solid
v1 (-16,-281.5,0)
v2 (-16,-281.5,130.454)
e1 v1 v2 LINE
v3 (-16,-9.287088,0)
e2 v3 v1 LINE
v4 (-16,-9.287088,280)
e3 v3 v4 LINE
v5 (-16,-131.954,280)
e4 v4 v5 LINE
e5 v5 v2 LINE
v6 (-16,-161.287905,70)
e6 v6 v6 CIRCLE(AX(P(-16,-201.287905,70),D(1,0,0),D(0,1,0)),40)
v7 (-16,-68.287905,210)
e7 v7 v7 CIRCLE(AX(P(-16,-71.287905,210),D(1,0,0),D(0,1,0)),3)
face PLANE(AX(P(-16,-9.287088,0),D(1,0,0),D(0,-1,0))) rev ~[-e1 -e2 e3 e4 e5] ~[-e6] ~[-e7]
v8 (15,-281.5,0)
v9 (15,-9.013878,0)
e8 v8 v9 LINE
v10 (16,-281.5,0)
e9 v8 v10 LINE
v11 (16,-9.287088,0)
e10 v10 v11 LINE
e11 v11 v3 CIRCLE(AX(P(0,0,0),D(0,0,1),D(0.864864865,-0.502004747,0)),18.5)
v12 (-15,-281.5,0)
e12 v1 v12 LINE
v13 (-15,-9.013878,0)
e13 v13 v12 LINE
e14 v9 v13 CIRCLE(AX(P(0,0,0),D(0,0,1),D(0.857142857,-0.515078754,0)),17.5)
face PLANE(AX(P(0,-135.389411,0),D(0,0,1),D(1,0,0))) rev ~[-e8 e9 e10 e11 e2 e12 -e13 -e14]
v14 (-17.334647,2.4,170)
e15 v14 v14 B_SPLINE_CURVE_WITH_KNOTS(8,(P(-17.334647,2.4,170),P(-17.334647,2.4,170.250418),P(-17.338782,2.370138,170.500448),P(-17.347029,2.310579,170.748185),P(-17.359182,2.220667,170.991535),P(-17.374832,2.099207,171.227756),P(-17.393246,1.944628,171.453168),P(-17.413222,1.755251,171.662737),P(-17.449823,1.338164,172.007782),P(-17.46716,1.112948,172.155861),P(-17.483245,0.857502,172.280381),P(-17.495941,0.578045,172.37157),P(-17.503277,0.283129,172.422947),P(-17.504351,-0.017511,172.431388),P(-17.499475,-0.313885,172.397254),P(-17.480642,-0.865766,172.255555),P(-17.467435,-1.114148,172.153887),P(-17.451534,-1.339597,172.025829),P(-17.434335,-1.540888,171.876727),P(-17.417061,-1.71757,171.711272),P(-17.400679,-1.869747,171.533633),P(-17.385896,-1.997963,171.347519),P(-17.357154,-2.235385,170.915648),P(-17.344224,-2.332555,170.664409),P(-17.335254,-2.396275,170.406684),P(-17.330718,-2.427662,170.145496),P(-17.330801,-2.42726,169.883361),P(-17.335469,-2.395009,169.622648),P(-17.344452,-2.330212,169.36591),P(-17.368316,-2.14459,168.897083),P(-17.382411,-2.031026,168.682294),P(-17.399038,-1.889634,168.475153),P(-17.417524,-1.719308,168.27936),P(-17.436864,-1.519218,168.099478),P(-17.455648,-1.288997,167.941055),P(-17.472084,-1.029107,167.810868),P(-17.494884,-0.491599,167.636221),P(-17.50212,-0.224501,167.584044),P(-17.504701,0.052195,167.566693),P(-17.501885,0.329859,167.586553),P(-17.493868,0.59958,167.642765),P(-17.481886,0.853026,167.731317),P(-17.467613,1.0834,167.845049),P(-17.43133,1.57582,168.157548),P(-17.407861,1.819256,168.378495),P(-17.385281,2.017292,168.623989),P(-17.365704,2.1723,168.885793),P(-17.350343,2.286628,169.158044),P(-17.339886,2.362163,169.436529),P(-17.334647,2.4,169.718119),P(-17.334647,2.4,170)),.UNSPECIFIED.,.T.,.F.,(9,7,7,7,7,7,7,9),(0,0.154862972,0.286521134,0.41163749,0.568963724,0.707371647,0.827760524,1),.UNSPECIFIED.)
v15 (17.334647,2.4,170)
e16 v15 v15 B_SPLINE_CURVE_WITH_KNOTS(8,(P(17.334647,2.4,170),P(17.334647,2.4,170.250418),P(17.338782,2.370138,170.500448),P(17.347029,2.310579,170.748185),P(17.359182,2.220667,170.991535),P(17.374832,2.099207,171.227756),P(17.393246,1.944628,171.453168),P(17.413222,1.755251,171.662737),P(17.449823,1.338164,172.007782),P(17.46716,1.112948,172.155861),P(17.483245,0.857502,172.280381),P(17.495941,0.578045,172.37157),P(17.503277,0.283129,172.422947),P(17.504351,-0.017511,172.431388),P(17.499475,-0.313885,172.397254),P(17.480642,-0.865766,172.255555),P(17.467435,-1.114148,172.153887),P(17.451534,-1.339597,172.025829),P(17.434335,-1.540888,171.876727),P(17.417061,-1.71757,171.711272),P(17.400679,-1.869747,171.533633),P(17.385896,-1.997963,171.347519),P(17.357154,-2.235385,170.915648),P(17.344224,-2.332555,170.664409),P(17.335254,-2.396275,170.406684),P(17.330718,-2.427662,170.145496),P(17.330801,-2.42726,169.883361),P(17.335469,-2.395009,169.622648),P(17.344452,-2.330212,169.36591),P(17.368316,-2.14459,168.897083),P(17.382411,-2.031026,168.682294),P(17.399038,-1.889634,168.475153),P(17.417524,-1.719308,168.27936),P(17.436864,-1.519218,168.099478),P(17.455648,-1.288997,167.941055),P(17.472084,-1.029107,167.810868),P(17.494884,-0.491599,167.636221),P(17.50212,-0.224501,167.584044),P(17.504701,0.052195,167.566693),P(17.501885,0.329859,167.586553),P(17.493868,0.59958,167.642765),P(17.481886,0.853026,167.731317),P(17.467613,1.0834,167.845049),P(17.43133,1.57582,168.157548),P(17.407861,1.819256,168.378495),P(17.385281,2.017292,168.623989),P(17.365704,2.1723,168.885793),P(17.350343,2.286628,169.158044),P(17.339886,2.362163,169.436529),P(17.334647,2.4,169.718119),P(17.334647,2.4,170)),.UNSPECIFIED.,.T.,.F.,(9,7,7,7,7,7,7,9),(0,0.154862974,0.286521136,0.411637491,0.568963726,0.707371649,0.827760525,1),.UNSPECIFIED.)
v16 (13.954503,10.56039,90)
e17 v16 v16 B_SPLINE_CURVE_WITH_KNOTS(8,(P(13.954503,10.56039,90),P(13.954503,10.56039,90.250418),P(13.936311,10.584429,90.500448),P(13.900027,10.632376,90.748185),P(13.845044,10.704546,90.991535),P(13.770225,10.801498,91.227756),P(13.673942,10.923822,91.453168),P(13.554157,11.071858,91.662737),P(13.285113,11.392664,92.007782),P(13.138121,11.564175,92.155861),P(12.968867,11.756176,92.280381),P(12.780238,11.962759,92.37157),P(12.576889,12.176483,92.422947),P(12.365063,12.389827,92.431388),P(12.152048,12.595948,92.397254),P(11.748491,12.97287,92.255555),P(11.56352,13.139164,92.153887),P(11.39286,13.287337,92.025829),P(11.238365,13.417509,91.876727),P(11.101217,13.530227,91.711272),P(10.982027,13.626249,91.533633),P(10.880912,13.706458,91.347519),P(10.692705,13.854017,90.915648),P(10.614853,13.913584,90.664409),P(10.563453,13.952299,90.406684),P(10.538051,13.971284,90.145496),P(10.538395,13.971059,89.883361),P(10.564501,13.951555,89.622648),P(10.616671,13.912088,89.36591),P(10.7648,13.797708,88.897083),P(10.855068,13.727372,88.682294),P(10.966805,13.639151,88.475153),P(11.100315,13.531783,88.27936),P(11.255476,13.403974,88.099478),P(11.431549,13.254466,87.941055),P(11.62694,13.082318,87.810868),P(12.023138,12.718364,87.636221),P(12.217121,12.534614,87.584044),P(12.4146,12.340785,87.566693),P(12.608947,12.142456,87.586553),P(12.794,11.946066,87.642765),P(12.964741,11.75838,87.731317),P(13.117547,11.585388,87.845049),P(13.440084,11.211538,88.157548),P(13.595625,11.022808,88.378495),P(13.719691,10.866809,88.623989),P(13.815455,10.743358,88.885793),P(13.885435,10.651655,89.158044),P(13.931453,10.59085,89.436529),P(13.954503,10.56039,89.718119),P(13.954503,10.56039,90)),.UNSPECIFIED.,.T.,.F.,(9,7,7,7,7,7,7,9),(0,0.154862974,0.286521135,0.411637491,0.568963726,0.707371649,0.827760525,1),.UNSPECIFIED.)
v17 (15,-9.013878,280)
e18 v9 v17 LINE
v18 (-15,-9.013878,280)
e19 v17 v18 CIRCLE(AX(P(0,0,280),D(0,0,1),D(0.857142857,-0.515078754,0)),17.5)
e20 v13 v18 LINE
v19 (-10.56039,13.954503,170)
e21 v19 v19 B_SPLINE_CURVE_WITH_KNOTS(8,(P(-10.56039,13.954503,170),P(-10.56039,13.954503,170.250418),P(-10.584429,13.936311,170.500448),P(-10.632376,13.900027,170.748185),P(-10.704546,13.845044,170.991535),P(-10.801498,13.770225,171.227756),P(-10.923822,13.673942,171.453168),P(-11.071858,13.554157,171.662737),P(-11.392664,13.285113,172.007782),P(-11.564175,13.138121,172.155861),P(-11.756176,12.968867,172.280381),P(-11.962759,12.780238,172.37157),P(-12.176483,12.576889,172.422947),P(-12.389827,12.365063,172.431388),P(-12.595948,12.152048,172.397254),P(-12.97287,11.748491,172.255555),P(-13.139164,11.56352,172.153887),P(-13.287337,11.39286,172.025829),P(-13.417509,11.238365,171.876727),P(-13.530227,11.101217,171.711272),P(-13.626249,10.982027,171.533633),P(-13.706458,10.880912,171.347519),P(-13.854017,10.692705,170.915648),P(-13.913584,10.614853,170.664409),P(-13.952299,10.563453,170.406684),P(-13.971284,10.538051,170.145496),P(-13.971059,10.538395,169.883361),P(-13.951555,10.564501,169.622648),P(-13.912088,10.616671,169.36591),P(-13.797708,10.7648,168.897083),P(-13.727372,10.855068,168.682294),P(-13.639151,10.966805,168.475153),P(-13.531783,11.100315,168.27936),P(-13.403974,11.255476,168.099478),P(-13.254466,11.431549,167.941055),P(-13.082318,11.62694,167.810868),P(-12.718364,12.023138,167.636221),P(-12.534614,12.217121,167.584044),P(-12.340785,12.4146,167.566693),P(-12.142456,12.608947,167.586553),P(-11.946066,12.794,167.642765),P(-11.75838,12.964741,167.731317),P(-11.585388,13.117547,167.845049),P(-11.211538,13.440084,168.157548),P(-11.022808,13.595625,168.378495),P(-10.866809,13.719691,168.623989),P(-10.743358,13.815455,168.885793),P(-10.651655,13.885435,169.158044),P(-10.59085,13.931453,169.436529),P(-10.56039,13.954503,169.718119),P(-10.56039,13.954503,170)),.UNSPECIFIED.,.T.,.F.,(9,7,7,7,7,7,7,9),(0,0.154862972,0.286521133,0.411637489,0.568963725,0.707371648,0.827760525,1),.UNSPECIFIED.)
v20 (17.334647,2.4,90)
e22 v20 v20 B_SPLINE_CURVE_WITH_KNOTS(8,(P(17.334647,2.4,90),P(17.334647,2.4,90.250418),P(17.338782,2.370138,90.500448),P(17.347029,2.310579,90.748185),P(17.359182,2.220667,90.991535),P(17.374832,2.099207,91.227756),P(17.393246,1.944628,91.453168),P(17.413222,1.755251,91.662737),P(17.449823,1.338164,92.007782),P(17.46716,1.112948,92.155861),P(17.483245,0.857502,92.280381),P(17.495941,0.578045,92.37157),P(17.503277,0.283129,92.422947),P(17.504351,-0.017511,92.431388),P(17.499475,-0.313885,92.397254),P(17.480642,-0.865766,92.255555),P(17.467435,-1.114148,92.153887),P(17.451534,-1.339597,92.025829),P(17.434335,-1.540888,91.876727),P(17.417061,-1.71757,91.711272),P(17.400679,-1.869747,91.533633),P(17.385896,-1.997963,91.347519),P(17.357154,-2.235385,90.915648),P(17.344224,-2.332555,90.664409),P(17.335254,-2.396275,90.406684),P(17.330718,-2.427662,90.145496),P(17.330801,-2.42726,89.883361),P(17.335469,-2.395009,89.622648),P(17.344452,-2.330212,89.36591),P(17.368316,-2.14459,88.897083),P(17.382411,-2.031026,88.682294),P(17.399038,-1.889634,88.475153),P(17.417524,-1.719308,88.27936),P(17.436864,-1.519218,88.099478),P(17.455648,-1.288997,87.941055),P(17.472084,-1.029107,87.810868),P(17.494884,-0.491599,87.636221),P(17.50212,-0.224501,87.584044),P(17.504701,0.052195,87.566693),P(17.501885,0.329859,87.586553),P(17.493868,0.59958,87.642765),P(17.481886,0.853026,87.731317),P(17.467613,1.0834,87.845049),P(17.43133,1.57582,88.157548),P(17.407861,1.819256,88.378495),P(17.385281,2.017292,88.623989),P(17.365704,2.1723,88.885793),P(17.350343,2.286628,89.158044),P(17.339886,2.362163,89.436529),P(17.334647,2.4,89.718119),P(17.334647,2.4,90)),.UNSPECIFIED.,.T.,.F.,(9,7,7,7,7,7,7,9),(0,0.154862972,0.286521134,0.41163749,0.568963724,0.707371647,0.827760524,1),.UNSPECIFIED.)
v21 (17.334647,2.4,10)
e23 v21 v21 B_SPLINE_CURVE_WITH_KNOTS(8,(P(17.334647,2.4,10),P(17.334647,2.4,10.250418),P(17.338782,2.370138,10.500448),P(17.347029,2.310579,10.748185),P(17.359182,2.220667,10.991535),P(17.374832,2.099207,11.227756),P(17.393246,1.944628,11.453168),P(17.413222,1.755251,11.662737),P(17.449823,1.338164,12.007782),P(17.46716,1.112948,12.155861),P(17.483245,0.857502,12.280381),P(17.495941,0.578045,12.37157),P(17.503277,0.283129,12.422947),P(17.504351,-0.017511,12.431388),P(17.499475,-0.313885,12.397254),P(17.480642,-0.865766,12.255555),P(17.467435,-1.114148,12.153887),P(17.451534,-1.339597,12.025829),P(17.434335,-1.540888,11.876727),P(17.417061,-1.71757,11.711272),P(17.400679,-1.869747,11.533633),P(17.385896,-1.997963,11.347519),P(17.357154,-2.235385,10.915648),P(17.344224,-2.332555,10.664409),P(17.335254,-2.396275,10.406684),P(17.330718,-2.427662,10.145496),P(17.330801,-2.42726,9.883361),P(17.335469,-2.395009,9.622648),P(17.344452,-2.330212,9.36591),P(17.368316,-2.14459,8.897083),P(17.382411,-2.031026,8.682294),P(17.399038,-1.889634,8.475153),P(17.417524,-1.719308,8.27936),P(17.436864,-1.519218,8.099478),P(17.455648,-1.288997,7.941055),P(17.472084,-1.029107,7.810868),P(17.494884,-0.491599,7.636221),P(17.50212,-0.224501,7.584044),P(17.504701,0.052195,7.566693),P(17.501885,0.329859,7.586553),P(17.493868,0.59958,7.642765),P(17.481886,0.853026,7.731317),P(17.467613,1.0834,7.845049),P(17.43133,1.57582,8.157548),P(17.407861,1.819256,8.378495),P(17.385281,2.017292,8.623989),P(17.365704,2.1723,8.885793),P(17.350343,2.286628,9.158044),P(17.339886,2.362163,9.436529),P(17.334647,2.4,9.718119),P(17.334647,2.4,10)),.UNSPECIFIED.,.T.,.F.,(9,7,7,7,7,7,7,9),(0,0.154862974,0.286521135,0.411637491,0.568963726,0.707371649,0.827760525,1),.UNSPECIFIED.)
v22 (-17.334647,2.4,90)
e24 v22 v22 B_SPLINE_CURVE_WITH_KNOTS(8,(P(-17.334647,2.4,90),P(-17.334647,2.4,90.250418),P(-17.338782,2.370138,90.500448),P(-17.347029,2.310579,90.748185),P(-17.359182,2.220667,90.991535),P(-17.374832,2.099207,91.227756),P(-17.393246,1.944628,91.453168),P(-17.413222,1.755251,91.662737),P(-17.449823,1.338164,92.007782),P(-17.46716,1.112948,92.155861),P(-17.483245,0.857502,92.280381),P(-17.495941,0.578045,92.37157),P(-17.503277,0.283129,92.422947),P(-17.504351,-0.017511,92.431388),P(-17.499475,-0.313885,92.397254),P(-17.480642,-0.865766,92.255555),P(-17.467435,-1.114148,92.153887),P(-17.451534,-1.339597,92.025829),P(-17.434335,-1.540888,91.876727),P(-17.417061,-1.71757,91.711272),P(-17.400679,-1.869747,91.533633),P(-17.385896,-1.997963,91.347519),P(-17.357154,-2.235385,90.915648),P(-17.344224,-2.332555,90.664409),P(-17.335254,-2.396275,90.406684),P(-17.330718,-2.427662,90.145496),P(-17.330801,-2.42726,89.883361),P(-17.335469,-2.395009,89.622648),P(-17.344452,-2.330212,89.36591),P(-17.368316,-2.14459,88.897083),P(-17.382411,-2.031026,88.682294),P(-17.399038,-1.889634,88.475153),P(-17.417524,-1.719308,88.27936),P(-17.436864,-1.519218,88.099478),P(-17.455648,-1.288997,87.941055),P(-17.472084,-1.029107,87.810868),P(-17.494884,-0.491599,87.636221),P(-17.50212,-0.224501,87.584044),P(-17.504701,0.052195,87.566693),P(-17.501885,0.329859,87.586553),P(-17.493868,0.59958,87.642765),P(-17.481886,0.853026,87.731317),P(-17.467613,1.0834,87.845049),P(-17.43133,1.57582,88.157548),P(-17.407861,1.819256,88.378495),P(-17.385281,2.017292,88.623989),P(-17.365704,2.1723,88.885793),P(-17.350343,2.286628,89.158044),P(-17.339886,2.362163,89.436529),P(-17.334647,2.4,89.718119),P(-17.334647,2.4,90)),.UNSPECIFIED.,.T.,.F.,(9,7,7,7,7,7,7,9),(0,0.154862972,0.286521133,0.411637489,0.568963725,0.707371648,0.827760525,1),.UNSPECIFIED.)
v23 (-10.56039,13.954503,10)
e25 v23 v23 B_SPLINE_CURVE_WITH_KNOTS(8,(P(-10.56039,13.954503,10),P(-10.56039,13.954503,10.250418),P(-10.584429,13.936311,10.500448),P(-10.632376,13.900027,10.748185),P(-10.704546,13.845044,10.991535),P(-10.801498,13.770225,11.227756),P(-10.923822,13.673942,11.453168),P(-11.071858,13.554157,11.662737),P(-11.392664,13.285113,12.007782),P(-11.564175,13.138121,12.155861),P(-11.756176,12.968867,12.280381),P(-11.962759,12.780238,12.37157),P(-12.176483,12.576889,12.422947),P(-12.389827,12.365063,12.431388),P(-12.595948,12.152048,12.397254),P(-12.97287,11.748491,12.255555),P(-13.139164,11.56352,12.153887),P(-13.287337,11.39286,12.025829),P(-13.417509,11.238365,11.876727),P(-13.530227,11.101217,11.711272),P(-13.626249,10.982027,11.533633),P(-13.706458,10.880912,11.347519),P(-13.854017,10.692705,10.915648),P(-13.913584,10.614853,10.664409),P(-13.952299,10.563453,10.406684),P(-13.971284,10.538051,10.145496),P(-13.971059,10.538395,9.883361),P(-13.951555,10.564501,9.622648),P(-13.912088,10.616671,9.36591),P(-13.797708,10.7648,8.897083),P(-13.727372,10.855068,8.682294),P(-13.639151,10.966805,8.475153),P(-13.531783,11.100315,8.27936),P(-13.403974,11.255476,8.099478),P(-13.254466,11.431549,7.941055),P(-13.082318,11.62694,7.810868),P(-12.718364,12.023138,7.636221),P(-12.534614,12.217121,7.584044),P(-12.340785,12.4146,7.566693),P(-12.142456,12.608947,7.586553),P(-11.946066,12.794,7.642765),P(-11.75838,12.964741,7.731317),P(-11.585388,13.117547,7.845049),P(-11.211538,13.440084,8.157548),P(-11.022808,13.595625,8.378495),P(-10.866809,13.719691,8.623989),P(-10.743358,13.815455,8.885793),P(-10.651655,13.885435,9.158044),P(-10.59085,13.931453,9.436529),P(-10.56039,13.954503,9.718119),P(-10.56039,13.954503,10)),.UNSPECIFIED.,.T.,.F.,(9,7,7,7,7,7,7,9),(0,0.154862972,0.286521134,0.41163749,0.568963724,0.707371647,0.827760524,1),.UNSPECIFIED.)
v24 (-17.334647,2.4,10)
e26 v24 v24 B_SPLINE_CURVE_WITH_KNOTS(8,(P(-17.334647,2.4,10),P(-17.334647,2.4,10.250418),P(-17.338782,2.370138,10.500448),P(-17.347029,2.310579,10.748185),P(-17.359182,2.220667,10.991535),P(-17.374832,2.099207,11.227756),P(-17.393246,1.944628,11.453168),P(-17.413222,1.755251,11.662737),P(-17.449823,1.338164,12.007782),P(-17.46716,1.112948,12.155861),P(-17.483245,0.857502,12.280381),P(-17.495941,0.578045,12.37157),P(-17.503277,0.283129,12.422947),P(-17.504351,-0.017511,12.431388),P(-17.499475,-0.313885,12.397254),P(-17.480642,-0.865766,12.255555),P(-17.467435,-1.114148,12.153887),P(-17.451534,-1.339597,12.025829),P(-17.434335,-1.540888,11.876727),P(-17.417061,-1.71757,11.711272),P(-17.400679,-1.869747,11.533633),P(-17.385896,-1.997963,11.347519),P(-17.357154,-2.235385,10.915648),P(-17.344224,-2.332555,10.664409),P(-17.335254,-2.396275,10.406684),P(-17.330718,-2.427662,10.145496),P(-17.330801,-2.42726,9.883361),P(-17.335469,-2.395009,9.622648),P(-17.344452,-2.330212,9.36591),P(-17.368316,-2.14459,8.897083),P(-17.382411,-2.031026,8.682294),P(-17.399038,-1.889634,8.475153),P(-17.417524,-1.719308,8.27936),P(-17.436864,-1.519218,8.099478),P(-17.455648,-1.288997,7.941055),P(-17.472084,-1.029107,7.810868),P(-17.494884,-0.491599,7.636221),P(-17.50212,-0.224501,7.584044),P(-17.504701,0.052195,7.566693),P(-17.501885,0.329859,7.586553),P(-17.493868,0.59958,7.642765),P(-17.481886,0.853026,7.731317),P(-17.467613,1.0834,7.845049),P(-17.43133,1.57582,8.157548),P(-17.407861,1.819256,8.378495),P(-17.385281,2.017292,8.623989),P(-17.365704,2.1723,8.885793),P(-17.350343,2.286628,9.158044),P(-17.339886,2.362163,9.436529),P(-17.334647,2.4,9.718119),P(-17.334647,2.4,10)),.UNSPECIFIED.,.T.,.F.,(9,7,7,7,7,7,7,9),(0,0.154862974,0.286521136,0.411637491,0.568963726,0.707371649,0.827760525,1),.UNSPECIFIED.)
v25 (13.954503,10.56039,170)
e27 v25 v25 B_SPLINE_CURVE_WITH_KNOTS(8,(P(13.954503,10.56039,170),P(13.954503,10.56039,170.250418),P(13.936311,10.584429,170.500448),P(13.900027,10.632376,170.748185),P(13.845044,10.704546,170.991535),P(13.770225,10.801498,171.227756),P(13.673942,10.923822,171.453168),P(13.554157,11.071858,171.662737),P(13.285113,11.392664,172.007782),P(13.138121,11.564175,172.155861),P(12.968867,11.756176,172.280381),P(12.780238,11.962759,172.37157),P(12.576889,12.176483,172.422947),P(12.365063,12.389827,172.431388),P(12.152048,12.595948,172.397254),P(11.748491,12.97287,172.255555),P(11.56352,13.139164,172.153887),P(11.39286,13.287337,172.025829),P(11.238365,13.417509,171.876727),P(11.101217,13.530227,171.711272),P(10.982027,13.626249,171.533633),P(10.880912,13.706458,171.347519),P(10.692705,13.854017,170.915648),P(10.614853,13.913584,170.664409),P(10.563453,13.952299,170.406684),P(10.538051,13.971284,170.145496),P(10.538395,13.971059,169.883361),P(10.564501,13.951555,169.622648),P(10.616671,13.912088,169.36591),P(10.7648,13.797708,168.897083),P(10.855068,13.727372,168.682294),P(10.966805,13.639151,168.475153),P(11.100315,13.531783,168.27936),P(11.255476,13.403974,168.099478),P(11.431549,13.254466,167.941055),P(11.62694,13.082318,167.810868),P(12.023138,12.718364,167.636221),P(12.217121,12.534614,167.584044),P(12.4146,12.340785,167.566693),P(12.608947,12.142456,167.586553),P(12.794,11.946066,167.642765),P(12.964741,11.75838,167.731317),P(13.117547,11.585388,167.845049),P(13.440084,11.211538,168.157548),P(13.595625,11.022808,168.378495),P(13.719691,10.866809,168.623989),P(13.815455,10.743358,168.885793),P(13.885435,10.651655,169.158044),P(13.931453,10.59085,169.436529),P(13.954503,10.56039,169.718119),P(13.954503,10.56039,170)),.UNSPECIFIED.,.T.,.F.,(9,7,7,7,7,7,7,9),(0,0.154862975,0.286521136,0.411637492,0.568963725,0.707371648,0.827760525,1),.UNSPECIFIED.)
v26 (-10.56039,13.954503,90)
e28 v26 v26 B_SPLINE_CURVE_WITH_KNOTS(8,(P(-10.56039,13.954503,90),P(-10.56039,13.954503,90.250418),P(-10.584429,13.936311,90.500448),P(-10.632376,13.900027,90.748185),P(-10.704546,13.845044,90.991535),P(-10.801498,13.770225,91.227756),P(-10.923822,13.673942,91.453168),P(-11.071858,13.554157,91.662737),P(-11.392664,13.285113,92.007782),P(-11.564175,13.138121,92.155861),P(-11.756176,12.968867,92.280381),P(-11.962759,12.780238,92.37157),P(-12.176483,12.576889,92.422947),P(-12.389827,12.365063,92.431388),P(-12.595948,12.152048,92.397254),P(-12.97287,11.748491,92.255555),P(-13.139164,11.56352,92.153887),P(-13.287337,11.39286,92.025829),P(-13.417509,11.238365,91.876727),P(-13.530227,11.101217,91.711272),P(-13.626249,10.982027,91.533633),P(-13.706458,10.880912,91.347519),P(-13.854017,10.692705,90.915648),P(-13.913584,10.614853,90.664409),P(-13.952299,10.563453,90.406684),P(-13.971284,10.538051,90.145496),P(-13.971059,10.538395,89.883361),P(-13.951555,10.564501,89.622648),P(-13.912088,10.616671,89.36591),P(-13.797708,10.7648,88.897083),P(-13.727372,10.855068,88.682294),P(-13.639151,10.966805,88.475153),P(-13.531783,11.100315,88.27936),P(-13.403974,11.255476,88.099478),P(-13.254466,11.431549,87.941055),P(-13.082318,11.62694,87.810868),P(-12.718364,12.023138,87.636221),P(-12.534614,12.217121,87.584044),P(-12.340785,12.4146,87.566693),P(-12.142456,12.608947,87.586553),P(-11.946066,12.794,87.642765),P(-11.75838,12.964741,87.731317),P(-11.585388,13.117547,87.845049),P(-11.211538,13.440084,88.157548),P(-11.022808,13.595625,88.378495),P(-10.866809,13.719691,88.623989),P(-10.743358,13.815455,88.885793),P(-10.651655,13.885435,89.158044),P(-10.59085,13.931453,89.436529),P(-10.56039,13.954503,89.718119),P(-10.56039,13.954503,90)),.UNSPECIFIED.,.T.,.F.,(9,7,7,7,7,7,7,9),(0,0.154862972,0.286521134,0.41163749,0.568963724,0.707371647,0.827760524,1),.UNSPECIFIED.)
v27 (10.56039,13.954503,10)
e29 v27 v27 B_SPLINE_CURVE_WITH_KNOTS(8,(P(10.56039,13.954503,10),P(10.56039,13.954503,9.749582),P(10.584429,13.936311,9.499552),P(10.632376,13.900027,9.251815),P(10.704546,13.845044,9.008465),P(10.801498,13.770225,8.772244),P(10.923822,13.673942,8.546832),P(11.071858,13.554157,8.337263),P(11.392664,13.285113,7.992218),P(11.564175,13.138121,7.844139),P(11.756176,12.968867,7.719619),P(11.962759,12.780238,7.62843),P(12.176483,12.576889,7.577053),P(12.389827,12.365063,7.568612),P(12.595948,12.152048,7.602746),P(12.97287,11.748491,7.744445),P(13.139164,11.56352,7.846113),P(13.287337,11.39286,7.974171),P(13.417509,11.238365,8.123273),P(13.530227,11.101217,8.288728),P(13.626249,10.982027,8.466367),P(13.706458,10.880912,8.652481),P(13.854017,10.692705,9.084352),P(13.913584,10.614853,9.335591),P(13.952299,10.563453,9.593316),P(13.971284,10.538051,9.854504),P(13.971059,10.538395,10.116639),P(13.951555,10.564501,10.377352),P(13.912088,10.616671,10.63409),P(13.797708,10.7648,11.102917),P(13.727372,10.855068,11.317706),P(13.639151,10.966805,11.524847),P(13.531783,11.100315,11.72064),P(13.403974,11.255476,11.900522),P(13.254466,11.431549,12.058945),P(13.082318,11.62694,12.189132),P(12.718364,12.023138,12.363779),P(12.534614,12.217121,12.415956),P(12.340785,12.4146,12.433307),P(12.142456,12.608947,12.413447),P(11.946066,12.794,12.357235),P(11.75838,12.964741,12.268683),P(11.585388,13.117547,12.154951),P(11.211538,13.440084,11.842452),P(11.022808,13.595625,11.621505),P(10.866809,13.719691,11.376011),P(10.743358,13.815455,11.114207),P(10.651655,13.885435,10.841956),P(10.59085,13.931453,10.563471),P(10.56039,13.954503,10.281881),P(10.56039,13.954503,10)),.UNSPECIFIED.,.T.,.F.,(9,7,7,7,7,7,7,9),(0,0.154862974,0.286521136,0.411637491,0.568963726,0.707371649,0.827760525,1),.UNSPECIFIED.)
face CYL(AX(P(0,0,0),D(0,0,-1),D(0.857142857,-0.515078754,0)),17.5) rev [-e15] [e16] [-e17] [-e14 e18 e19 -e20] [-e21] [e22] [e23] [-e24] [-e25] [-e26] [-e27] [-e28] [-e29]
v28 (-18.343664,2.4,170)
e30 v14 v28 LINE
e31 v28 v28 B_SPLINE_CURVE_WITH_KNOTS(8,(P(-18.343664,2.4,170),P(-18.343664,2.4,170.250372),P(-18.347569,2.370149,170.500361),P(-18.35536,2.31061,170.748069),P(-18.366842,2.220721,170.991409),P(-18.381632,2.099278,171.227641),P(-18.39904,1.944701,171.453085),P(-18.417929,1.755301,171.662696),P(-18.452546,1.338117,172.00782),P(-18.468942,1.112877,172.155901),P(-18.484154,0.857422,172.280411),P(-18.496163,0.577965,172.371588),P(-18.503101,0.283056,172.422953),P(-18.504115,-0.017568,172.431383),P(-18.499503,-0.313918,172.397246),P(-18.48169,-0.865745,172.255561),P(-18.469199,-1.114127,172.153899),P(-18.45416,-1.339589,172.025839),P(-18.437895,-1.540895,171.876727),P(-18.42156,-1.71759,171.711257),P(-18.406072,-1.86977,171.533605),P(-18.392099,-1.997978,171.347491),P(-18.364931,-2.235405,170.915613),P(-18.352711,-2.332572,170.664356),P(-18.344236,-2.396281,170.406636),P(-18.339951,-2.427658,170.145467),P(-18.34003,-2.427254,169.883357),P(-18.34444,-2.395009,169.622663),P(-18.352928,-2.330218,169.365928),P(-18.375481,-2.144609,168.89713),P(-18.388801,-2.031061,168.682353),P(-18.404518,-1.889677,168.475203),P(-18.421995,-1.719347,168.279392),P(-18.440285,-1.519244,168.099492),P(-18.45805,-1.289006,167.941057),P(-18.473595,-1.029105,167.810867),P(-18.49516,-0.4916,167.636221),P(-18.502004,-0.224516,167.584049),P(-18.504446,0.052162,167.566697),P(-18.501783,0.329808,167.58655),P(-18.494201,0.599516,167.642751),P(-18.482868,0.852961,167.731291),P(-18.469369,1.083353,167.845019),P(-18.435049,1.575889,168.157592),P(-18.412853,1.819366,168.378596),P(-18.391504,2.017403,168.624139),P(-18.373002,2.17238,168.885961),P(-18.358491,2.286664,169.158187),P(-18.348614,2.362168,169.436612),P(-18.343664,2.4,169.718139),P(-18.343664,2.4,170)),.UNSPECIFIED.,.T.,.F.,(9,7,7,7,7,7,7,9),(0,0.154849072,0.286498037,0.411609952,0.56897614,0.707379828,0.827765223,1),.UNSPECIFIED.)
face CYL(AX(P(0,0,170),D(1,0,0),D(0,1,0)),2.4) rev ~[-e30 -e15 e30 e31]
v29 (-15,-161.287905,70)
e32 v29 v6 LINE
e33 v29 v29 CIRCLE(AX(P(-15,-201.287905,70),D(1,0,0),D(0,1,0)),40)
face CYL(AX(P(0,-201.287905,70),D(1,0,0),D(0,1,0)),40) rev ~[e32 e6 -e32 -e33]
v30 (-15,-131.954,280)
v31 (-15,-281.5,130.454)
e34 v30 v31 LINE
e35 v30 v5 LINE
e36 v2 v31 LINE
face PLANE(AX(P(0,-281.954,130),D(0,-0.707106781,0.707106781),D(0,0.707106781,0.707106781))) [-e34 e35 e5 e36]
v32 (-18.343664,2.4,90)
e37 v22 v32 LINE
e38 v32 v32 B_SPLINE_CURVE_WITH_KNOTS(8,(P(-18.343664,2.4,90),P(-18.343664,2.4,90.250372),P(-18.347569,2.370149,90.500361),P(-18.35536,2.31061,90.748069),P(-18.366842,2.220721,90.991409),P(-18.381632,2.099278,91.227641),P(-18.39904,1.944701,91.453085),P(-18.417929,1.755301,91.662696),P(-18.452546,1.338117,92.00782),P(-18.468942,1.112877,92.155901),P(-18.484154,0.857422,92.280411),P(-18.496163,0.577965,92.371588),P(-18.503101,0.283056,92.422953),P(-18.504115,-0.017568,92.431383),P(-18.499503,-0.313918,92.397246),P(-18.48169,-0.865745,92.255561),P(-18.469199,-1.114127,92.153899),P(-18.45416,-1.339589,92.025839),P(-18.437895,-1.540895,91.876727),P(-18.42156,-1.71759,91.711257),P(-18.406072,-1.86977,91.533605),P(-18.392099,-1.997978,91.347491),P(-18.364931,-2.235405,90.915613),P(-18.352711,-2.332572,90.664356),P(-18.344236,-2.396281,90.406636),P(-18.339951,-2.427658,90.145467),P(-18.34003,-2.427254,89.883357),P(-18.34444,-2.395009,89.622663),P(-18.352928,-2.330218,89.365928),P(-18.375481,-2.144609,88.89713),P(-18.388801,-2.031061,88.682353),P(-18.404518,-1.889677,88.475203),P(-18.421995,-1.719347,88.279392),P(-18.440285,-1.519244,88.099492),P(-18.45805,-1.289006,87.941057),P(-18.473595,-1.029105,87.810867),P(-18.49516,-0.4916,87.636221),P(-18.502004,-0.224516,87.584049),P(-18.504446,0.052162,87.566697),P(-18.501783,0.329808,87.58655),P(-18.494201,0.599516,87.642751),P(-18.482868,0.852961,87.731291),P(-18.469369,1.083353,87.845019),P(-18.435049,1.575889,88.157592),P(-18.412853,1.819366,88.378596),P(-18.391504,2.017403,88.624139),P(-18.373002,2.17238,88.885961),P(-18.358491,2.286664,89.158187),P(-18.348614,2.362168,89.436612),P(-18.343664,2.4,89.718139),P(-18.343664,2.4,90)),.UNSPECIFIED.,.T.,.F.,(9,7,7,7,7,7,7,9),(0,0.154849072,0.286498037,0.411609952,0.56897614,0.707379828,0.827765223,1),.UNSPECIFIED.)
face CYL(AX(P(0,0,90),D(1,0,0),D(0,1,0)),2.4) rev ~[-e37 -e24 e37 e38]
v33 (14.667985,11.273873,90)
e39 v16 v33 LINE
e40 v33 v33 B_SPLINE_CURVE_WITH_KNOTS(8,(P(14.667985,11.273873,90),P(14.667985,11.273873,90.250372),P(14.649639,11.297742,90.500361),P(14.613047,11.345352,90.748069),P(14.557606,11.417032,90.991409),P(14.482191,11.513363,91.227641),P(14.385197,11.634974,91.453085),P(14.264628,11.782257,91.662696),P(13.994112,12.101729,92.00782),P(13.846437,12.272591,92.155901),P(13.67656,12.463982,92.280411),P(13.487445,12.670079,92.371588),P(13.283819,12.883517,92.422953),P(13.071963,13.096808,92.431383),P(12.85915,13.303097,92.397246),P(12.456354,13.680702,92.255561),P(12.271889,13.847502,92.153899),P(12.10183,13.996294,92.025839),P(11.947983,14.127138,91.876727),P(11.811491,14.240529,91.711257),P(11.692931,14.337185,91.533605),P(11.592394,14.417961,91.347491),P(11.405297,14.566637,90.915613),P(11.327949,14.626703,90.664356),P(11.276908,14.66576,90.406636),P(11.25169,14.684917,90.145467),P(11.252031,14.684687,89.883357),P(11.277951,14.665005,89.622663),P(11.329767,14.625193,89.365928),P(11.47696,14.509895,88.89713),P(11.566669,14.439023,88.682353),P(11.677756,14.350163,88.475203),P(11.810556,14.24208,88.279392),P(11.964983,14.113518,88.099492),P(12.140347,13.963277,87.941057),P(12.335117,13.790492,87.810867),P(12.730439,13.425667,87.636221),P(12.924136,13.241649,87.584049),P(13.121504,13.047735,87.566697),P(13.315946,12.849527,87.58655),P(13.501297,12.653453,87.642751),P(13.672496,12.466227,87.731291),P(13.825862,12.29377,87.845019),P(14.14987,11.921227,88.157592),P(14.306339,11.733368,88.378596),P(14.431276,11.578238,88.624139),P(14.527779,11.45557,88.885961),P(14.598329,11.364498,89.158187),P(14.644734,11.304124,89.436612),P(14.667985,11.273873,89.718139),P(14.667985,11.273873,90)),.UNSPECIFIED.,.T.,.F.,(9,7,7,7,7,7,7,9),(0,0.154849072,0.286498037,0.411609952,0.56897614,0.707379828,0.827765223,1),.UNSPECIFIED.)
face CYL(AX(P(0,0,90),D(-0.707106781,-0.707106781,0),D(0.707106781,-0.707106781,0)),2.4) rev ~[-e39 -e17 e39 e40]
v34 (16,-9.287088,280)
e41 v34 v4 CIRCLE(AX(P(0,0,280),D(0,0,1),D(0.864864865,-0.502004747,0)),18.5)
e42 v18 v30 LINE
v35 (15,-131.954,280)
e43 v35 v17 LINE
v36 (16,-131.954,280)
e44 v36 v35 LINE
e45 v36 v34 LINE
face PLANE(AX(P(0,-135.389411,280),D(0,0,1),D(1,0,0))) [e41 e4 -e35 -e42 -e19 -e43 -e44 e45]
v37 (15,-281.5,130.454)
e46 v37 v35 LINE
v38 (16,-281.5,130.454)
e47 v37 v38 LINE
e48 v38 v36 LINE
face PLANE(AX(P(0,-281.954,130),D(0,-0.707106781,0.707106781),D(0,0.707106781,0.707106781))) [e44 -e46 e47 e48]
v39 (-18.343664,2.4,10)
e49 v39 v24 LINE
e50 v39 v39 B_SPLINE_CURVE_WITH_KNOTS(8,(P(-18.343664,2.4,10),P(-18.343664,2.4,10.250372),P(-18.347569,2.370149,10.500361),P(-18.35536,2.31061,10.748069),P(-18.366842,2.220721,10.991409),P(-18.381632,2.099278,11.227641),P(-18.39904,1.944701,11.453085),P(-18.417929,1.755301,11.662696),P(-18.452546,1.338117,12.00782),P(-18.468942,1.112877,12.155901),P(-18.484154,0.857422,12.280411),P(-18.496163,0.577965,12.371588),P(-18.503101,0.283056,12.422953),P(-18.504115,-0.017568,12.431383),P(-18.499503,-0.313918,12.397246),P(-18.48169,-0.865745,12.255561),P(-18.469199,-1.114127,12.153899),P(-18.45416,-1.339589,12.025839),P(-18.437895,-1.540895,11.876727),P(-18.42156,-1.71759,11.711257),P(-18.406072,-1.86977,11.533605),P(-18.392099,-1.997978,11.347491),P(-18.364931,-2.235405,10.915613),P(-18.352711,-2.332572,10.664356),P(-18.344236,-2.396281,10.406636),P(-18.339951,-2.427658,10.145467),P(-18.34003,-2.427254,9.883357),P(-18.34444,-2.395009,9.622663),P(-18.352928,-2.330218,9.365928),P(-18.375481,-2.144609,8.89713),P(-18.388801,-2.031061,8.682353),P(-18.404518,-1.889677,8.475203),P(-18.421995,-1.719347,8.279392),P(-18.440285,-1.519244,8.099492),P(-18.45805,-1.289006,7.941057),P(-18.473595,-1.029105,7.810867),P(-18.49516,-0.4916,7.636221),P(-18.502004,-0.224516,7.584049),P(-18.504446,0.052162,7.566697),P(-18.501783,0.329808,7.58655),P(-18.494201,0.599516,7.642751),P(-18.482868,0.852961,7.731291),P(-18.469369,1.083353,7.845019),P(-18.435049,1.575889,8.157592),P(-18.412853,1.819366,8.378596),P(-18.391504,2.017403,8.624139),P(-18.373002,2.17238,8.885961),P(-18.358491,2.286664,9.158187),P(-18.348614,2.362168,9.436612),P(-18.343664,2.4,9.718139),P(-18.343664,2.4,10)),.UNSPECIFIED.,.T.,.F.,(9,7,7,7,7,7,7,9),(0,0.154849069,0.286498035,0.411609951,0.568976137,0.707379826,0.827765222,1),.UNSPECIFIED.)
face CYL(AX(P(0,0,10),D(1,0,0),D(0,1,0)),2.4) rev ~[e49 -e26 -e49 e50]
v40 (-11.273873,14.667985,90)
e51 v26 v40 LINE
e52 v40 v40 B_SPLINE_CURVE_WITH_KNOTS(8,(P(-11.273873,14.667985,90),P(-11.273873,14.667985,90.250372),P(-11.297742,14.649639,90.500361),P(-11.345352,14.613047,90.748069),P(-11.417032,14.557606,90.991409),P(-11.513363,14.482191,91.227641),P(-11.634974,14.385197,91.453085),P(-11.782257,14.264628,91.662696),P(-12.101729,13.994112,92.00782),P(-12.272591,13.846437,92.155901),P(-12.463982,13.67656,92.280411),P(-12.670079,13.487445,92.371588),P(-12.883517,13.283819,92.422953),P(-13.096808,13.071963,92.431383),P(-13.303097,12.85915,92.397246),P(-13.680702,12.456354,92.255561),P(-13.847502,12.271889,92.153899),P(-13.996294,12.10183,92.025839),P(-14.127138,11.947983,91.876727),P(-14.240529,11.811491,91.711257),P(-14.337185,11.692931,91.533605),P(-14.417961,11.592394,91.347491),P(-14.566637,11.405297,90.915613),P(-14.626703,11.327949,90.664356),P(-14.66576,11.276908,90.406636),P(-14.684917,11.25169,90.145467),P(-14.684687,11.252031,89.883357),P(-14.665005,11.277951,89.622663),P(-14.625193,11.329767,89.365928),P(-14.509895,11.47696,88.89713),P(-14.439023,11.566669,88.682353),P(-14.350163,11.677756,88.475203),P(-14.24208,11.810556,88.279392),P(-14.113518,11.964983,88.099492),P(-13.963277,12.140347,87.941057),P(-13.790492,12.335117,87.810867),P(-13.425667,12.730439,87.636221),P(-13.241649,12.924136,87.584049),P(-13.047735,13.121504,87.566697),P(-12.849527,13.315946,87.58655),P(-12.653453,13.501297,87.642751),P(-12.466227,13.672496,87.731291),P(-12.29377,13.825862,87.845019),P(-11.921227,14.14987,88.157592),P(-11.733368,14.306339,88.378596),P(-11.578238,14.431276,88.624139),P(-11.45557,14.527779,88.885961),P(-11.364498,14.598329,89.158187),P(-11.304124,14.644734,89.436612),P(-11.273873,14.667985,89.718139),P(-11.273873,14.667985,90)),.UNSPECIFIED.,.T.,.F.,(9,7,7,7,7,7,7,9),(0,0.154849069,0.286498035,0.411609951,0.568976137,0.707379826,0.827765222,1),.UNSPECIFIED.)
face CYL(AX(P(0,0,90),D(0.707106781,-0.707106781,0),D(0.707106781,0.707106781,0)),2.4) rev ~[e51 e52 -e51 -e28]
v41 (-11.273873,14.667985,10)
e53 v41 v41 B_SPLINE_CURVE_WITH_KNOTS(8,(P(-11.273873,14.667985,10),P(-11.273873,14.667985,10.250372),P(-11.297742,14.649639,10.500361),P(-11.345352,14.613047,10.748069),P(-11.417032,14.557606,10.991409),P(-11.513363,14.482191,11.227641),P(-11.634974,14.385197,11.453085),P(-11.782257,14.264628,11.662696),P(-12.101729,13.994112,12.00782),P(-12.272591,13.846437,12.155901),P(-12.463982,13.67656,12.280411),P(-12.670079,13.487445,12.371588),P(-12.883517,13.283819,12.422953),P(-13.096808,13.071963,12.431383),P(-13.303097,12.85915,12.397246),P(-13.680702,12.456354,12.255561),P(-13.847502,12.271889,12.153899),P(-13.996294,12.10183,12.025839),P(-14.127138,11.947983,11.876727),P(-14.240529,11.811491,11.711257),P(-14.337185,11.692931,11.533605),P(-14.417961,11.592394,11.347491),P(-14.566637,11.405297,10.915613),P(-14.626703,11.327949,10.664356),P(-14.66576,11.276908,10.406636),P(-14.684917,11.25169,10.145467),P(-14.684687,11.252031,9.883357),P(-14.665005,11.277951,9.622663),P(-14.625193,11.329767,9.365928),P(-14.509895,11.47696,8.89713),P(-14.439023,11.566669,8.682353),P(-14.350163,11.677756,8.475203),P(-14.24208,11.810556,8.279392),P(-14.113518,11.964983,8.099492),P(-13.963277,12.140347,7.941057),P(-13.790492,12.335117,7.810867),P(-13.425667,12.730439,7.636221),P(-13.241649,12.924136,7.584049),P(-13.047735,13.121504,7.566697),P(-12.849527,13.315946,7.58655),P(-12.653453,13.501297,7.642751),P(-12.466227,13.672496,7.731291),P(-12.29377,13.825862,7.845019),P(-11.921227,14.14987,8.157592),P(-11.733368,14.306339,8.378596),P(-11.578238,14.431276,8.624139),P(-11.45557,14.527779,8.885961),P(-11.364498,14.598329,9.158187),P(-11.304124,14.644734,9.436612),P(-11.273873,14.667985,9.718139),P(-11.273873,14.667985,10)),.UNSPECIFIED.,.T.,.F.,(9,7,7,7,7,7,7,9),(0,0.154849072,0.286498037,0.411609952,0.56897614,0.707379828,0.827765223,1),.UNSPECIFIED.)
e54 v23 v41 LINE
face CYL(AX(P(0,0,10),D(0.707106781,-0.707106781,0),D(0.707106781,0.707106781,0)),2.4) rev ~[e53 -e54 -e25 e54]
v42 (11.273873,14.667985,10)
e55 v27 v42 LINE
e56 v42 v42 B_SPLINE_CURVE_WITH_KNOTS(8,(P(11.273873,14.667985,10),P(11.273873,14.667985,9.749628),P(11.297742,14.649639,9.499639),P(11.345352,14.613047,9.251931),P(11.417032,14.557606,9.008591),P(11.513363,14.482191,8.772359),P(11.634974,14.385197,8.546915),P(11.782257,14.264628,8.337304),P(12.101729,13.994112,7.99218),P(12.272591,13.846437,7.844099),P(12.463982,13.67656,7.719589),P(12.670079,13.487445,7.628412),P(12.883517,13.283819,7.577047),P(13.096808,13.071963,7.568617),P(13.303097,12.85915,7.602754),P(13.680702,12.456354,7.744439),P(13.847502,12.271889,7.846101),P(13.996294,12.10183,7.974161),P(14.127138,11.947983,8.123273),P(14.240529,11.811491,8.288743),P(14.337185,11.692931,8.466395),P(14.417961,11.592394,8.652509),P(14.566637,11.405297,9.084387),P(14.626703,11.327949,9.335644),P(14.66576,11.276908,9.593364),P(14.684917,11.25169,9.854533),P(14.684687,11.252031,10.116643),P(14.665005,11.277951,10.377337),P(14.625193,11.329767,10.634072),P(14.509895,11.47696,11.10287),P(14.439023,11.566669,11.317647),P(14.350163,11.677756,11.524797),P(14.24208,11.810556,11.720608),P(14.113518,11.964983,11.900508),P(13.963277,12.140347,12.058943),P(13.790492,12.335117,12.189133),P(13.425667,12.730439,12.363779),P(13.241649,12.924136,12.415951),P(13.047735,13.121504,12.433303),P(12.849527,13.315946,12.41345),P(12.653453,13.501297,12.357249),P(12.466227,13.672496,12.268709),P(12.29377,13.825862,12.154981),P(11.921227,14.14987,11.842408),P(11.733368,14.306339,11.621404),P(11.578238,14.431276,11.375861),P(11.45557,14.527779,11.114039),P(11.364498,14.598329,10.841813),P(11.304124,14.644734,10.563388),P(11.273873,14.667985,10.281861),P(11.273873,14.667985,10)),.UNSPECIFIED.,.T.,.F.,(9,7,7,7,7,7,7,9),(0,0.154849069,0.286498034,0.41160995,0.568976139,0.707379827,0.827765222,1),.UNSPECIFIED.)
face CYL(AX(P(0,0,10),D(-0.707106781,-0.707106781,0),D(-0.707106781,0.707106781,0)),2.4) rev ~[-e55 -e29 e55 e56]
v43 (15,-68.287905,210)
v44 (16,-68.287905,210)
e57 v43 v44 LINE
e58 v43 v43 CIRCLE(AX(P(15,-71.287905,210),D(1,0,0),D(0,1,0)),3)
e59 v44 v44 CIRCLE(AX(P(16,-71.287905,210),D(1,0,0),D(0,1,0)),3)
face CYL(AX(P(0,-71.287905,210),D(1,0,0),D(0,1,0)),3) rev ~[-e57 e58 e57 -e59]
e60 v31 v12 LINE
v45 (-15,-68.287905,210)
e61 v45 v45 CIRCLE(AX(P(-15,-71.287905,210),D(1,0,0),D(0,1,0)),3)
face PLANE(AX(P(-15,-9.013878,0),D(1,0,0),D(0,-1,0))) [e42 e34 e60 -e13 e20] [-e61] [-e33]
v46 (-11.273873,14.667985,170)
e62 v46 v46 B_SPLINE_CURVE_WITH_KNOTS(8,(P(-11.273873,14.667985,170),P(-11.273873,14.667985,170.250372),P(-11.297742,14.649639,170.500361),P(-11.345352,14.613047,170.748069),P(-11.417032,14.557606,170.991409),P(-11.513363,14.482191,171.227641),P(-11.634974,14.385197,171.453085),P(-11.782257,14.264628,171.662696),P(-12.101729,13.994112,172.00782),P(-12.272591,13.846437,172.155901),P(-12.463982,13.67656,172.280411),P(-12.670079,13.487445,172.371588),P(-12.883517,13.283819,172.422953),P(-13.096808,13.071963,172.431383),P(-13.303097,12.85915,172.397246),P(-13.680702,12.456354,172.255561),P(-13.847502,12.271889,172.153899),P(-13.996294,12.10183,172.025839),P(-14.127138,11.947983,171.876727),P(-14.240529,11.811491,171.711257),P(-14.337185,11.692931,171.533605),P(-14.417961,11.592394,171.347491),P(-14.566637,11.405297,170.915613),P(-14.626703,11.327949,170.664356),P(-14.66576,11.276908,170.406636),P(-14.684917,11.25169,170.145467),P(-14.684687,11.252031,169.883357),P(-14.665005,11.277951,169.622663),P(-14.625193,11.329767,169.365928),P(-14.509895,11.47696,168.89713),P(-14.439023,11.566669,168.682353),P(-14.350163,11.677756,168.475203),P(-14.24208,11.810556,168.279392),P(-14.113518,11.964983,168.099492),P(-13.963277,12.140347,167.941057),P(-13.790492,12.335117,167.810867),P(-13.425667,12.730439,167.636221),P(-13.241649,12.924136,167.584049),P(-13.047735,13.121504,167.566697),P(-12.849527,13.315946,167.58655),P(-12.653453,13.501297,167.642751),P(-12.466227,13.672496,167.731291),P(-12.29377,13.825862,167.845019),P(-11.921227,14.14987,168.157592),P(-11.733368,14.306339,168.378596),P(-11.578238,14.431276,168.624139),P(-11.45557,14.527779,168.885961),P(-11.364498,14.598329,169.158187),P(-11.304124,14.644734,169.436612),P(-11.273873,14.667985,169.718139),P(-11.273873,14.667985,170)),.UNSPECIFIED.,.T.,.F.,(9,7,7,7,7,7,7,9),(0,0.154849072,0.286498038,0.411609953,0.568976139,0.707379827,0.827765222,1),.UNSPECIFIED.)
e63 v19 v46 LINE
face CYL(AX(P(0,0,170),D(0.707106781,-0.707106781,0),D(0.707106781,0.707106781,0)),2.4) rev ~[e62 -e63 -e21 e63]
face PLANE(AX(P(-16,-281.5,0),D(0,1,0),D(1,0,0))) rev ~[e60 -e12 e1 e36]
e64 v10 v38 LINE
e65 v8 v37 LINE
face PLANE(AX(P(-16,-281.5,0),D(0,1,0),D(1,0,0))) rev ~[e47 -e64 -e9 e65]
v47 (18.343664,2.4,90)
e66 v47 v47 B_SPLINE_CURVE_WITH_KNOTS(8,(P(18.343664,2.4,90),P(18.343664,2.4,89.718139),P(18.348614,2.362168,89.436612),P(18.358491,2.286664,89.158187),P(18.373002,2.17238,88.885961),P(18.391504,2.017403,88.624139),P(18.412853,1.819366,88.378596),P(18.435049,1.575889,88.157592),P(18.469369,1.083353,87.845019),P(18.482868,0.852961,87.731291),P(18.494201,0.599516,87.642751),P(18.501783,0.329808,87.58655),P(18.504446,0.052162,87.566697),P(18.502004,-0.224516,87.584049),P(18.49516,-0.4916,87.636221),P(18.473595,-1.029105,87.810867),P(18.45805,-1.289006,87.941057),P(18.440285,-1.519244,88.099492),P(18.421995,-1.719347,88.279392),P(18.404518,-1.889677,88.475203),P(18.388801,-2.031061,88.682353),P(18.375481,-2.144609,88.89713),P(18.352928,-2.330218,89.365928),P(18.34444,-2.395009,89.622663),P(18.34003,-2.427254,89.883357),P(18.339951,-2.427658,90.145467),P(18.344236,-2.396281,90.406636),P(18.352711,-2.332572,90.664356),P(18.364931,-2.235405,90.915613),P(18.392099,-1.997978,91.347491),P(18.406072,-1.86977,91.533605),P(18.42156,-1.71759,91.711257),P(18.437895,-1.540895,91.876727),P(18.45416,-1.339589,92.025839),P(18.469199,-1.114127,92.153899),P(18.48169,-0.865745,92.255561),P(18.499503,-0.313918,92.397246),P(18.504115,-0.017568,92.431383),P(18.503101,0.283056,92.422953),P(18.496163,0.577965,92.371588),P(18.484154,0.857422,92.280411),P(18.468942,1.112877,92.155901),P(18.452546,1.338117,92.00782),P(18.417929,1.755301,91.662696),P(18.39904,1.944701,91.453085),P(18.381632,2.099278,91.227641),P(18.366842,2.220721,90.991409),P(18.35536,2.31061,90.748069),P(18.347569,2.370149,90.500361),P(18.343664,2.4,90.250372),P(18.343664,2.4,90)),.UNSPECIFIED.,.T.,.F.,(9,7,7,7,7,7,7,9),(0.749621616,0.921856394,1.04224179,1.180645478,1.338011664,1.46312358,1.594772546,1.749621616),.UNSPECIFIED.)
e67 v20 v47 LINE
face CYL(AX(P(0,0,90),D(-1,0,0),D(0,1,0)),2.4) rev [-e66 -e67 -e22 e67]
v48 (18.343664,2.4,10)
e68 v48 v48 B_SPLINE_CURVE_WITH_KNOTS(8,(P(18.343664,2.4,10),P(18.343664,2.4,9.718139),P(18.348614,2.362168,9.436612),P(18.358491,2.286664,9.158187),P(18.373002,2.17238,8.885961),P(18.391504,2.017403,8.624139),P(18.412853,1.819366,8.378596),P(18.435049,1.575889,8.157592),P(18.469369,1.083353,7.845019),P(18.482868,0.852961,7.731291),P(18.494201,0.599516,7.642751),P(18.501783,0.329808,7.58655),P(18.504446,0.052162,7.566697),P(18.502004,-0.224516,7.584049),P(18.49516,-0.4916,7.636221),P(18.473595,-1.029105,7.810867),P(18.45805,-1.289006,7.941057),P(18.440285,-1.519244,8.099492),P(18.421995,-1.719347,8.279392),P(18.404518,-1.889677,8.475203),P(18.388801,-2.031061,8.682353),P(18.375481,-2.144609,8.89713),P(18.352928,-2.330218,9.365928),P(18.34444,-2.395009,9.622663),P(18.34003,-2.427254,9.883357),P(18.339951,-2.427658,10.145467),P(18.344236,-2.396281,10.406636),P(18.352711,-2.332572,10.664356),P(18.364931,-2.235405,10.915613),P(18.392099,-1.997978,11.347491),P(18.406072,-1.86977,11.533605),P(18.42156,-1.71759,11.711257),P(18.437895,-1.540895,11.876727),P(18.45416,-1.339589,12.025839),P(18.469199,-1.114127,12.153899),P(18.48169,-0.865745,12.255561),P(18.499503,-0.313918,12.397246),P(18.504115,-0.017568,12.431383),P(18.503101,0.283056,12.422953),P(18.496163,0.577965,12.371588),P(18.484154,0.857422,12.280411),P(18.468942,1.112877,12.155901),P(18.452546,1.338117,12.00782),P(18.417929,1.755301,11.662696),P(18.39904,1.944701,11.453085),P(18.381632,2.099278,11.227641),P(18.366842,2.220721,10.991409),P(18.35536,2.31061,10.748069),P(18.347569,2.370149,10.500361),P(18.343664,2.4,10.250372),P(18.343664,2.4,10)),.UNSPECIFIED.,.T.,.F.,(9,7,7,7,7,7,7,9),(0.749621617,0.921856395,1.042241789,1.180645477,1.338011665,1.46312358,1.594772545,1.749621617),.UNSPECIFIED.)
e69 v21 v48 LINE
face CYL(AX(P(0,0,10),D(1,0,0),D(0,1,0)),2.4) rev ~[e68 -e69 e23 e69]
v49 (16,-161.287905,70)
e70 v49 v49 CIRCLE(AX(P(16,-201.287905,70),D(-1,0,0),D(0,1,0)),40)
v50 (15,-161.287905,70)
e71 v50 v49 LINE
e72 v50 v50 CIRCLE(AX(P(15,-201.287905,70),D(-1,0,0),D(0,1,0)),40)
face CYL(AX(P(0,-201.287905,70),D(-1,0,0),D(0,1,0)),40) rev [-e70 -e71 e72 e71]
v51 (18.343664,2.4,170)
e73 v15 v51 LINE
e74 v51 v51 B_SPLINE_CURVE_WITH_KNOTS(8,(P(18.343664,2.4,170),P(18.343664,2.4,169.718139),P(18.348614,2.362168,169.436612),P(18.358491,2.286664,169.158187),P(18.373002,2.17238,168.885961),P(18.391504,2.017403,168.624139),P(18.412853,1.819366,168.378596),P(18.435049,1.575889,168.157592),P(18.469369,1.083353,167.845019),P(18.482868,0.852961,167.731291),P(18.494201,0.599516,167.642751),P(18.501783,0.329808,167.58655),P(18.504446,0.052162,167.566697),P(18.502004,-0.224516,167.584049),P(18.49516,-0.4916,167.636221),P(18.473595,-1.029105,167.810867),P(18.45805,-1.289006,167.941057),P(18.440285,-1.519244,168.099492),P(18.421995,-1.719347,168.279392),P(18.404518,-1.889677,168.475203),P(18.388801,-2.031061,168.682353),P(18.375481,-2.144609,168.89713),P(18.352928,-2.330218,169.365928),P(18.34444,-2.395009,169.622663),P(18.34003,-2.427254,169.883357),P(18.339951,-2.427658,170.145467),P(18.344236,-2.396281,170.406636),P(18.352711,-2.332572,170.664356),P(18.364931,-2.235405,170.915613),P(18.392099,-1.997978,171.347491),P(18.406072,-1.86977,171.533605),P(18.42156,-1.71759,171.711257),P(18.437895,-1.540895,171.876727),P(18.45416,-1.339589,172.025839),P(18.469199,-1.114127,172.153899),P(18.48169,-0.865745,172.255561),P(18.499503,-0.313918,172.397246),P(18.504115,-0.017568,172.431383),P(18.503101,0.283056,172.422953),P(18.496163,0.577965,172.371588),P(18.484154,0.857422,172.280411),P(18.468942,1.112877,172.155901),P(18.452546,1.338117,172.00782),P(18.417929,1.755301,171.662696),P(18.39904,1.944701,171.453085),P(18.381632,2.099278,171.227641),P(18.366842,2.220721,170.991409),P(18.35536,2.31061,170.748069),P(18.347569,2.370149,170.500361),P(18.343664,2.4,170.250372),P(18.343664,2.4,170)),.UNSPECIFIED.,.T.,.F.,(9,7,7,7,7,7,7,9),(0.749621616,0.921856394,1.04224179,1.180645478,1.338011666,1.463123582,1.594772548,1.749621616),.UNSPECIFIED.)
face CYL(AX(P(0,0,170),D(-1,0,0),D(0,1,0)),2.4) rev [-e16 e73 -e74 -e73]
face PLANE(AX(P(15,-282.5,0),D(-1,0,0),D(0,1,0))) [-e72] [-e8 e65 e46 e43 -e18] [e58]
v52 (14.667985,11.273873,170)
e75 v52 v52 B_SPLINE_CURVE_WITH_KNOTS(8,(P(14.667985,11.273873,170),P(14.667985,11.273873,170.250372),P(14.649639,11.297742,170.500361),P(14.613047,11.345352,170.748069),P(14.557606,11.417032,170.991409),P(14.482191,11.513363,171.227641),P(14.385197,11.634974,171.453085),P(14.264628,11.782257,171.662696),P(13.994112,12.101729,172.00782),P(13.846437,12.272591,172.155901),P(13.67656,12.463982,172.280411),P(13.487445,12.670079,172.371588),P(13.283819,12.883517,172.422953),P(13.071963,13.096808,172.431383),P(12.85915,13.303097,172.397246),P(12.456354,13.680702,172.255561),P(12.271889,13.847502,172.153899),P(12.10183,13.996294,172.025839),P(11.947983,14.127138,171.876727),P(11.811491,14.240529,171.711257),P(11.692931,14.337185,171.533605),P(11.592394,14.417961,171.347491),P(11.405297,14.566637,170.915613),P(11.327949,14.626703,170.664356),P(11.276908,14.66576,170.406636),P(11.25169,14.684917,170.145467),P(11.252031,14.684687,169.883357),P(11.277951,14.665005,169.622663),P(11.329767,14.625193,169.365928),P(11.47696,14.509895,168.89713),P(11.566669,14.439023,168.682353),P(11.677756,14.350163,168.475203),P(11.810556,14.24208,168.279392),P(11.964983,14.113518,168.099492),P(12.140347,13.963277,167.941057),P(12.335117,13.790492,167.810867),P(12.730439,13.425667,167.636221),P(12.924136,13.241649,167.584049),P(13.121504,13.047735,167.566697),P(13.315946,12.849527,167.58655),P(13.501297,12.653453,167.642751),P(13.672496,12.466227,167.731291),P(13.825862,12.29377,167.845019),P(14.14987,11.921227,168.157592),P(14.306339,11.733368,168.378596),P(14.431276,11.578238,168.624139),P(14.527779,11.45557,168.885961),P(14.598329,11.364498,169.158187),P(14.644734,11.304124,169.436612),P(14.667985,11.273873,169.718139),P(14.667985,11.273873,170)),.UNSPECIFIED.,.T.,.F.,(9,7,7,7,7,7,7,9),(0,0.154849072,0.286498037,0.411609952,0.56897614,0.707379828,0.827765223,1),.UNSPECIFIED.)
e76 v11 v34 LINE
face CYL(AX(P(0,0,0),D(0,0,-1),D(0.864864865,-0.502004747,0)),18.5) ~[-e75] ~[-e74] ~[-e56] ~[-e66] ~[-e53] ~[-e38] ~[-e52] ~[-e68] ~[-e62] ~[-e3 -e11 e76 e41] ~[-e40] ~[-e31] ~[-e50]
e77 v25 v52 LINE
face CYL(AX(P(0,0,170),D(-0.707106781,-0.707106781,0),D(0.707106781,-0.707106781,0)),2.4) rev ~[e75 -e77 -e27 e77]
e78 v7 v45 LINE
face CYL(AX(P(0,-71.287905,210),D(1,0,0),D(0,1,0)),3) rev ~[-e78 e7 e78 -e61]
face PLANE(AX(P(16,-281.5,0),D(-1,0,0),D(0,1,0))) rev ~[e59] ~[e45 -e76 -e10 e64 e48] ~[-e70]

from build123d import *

# Parameters (mm, degrees)
F3_DEPTH  = 280
F4_DEPTH  = 280
F5_R      = 2.4
F6_DEPTH  = 18.5
F8_DEPTH  = 25
F10_R     = 2.4
F11_DEPTH = 25
F12_R     = 40
F12_R_2   = 3
F13_DEPTH = 20


with BuildPart() as f3:
    # F2 (on Top) → F3 (new body)
    with BuildSketch(Plane.XY):
        with BuildLine():
            ThreePointArc((16, -9.2870878105), (0, 18.5), (-16, -9.2870878105))
            Line((-16, -9.2870878105), (-16, -18.5))
            Line((-16, -18.5), (-16, -281.5))
            Line((-16, -281.5), (16, -281.5))
            Line((16, -281.5), (16, -18.5))
            Line((16, -18.5), (16, -9.2870878105))
        make_face()
    extrude(amount=F3_DEPTH)

    # F0 (on Top) → F4 (cut)
    with BuildSketch(Plane.XY):
        with BuildLine():
            Line((15, -17.5), (15, -9.0138781887))
            ThreePointArc((15, -9.0138781887), (0, 17.5), (-15, -9.0138781887))
            Line((-15, -9.0138781887), (-15, -17.5))
            Line((-15, -17.5), (-15, -282.5))
            Line((-15, -282.5), (15, -282.5))
            Line((15, -282.5), (15, -17.5))
        make_face()
    extrude(amount=F4_DEPTH, mode=Mode.SUBTRACT)

    # F5 (on Right) → F6 (cut, symmetric)
    with BuildSketch(Plane.YZ):
        with Locations((0, 170)):
            Circle(F5_R)
        with Locations((0, 90)):
            Circle(F5_R)
        with Locations((0, 10)):
            Circle(F5_R)
    extrude(amount=F6_DEPTH, both=True, mode=Mode.SUBTRACT)

    # F7 (on face) → F8 (cut)
    with BuildSketch(Plane(origin=(0, 0, 0), x_dir=(0.7071067812, -0.7071067812, 0), z_dir=(-0.7071067812, -0.7071067812, 0))):
        with BuildLine():
            ThreePointArc((2.4, 10), (0, 12.4), (-2.4, 10))
            Line((-2.4, 10), (2.4, 10))
        make_face()
        with BuildLine():
            Line((2.4, 10), (-2.4, 10))
            ThreePointArc((-2.4, 10), (0, 7.6), (2.4, 10))
        make_face()
        with BuildLine():
            ThreePointArc((-2.4, 90), (0, 87.6), (2.4, 90))
            Line((2.4, 90), (-2.4, 90))
        make_face()
        with BuildLine():
            Line((-2.4, 90), (2.4, 90))
            ThreePointArc((2.4, 90), (0, 92.4), (-2.4, 90))
        make_face()
        with BuildLine():
            ThreePointArc((-2.4, 170), (0, 167.6), (2.4, 170))
            Line((2.4, 170), (-2.4, 170))
        make_face()
        with BuildLine():
            Line((-2.4, 170), (2.4, 170))
            ThreePointArc((2.4, 170), (0, 172.4), (-2.4, 170))
        make_face()
    extrude(amount=-F8_DEPTH, mode=Mode.SUBTRACT)

    # F10 (on face) → F11 (cut)
    with BuildSketch(Plane(origin=(0, 0, 0), x_dir=(0.7071067812, 0.7071067812, 0), z_dir=(0.7071067812, -0.7071067812, 0))):
        with Locations((0, 170)):
            Circle(F10_R)
        with Locations((0, 90)):
            Circle(F10_R)
        with Locations((0, 10)):
            Circle(F10_R)
    extrude(amount=-F11_DEPTH, mode=Mode.SUBTRACT)

    # F12 (on Right) → F13 (cut, symmetric)
    with BuildSketch(Plane.YZ):
        with Locations((-201.2879049778, 70)):
            Circle(F12_R)
        Polygon((-131.954, 280), (-281.954, 280), (-281.954, 130), align=None)
        with Locations((-71.2879049778, 210)):
            Circle(F12_R_2)
    extrude(amount=F13_DEPTH, both=True, mode=Mode.SUBTRACT)


solid = f3.part
